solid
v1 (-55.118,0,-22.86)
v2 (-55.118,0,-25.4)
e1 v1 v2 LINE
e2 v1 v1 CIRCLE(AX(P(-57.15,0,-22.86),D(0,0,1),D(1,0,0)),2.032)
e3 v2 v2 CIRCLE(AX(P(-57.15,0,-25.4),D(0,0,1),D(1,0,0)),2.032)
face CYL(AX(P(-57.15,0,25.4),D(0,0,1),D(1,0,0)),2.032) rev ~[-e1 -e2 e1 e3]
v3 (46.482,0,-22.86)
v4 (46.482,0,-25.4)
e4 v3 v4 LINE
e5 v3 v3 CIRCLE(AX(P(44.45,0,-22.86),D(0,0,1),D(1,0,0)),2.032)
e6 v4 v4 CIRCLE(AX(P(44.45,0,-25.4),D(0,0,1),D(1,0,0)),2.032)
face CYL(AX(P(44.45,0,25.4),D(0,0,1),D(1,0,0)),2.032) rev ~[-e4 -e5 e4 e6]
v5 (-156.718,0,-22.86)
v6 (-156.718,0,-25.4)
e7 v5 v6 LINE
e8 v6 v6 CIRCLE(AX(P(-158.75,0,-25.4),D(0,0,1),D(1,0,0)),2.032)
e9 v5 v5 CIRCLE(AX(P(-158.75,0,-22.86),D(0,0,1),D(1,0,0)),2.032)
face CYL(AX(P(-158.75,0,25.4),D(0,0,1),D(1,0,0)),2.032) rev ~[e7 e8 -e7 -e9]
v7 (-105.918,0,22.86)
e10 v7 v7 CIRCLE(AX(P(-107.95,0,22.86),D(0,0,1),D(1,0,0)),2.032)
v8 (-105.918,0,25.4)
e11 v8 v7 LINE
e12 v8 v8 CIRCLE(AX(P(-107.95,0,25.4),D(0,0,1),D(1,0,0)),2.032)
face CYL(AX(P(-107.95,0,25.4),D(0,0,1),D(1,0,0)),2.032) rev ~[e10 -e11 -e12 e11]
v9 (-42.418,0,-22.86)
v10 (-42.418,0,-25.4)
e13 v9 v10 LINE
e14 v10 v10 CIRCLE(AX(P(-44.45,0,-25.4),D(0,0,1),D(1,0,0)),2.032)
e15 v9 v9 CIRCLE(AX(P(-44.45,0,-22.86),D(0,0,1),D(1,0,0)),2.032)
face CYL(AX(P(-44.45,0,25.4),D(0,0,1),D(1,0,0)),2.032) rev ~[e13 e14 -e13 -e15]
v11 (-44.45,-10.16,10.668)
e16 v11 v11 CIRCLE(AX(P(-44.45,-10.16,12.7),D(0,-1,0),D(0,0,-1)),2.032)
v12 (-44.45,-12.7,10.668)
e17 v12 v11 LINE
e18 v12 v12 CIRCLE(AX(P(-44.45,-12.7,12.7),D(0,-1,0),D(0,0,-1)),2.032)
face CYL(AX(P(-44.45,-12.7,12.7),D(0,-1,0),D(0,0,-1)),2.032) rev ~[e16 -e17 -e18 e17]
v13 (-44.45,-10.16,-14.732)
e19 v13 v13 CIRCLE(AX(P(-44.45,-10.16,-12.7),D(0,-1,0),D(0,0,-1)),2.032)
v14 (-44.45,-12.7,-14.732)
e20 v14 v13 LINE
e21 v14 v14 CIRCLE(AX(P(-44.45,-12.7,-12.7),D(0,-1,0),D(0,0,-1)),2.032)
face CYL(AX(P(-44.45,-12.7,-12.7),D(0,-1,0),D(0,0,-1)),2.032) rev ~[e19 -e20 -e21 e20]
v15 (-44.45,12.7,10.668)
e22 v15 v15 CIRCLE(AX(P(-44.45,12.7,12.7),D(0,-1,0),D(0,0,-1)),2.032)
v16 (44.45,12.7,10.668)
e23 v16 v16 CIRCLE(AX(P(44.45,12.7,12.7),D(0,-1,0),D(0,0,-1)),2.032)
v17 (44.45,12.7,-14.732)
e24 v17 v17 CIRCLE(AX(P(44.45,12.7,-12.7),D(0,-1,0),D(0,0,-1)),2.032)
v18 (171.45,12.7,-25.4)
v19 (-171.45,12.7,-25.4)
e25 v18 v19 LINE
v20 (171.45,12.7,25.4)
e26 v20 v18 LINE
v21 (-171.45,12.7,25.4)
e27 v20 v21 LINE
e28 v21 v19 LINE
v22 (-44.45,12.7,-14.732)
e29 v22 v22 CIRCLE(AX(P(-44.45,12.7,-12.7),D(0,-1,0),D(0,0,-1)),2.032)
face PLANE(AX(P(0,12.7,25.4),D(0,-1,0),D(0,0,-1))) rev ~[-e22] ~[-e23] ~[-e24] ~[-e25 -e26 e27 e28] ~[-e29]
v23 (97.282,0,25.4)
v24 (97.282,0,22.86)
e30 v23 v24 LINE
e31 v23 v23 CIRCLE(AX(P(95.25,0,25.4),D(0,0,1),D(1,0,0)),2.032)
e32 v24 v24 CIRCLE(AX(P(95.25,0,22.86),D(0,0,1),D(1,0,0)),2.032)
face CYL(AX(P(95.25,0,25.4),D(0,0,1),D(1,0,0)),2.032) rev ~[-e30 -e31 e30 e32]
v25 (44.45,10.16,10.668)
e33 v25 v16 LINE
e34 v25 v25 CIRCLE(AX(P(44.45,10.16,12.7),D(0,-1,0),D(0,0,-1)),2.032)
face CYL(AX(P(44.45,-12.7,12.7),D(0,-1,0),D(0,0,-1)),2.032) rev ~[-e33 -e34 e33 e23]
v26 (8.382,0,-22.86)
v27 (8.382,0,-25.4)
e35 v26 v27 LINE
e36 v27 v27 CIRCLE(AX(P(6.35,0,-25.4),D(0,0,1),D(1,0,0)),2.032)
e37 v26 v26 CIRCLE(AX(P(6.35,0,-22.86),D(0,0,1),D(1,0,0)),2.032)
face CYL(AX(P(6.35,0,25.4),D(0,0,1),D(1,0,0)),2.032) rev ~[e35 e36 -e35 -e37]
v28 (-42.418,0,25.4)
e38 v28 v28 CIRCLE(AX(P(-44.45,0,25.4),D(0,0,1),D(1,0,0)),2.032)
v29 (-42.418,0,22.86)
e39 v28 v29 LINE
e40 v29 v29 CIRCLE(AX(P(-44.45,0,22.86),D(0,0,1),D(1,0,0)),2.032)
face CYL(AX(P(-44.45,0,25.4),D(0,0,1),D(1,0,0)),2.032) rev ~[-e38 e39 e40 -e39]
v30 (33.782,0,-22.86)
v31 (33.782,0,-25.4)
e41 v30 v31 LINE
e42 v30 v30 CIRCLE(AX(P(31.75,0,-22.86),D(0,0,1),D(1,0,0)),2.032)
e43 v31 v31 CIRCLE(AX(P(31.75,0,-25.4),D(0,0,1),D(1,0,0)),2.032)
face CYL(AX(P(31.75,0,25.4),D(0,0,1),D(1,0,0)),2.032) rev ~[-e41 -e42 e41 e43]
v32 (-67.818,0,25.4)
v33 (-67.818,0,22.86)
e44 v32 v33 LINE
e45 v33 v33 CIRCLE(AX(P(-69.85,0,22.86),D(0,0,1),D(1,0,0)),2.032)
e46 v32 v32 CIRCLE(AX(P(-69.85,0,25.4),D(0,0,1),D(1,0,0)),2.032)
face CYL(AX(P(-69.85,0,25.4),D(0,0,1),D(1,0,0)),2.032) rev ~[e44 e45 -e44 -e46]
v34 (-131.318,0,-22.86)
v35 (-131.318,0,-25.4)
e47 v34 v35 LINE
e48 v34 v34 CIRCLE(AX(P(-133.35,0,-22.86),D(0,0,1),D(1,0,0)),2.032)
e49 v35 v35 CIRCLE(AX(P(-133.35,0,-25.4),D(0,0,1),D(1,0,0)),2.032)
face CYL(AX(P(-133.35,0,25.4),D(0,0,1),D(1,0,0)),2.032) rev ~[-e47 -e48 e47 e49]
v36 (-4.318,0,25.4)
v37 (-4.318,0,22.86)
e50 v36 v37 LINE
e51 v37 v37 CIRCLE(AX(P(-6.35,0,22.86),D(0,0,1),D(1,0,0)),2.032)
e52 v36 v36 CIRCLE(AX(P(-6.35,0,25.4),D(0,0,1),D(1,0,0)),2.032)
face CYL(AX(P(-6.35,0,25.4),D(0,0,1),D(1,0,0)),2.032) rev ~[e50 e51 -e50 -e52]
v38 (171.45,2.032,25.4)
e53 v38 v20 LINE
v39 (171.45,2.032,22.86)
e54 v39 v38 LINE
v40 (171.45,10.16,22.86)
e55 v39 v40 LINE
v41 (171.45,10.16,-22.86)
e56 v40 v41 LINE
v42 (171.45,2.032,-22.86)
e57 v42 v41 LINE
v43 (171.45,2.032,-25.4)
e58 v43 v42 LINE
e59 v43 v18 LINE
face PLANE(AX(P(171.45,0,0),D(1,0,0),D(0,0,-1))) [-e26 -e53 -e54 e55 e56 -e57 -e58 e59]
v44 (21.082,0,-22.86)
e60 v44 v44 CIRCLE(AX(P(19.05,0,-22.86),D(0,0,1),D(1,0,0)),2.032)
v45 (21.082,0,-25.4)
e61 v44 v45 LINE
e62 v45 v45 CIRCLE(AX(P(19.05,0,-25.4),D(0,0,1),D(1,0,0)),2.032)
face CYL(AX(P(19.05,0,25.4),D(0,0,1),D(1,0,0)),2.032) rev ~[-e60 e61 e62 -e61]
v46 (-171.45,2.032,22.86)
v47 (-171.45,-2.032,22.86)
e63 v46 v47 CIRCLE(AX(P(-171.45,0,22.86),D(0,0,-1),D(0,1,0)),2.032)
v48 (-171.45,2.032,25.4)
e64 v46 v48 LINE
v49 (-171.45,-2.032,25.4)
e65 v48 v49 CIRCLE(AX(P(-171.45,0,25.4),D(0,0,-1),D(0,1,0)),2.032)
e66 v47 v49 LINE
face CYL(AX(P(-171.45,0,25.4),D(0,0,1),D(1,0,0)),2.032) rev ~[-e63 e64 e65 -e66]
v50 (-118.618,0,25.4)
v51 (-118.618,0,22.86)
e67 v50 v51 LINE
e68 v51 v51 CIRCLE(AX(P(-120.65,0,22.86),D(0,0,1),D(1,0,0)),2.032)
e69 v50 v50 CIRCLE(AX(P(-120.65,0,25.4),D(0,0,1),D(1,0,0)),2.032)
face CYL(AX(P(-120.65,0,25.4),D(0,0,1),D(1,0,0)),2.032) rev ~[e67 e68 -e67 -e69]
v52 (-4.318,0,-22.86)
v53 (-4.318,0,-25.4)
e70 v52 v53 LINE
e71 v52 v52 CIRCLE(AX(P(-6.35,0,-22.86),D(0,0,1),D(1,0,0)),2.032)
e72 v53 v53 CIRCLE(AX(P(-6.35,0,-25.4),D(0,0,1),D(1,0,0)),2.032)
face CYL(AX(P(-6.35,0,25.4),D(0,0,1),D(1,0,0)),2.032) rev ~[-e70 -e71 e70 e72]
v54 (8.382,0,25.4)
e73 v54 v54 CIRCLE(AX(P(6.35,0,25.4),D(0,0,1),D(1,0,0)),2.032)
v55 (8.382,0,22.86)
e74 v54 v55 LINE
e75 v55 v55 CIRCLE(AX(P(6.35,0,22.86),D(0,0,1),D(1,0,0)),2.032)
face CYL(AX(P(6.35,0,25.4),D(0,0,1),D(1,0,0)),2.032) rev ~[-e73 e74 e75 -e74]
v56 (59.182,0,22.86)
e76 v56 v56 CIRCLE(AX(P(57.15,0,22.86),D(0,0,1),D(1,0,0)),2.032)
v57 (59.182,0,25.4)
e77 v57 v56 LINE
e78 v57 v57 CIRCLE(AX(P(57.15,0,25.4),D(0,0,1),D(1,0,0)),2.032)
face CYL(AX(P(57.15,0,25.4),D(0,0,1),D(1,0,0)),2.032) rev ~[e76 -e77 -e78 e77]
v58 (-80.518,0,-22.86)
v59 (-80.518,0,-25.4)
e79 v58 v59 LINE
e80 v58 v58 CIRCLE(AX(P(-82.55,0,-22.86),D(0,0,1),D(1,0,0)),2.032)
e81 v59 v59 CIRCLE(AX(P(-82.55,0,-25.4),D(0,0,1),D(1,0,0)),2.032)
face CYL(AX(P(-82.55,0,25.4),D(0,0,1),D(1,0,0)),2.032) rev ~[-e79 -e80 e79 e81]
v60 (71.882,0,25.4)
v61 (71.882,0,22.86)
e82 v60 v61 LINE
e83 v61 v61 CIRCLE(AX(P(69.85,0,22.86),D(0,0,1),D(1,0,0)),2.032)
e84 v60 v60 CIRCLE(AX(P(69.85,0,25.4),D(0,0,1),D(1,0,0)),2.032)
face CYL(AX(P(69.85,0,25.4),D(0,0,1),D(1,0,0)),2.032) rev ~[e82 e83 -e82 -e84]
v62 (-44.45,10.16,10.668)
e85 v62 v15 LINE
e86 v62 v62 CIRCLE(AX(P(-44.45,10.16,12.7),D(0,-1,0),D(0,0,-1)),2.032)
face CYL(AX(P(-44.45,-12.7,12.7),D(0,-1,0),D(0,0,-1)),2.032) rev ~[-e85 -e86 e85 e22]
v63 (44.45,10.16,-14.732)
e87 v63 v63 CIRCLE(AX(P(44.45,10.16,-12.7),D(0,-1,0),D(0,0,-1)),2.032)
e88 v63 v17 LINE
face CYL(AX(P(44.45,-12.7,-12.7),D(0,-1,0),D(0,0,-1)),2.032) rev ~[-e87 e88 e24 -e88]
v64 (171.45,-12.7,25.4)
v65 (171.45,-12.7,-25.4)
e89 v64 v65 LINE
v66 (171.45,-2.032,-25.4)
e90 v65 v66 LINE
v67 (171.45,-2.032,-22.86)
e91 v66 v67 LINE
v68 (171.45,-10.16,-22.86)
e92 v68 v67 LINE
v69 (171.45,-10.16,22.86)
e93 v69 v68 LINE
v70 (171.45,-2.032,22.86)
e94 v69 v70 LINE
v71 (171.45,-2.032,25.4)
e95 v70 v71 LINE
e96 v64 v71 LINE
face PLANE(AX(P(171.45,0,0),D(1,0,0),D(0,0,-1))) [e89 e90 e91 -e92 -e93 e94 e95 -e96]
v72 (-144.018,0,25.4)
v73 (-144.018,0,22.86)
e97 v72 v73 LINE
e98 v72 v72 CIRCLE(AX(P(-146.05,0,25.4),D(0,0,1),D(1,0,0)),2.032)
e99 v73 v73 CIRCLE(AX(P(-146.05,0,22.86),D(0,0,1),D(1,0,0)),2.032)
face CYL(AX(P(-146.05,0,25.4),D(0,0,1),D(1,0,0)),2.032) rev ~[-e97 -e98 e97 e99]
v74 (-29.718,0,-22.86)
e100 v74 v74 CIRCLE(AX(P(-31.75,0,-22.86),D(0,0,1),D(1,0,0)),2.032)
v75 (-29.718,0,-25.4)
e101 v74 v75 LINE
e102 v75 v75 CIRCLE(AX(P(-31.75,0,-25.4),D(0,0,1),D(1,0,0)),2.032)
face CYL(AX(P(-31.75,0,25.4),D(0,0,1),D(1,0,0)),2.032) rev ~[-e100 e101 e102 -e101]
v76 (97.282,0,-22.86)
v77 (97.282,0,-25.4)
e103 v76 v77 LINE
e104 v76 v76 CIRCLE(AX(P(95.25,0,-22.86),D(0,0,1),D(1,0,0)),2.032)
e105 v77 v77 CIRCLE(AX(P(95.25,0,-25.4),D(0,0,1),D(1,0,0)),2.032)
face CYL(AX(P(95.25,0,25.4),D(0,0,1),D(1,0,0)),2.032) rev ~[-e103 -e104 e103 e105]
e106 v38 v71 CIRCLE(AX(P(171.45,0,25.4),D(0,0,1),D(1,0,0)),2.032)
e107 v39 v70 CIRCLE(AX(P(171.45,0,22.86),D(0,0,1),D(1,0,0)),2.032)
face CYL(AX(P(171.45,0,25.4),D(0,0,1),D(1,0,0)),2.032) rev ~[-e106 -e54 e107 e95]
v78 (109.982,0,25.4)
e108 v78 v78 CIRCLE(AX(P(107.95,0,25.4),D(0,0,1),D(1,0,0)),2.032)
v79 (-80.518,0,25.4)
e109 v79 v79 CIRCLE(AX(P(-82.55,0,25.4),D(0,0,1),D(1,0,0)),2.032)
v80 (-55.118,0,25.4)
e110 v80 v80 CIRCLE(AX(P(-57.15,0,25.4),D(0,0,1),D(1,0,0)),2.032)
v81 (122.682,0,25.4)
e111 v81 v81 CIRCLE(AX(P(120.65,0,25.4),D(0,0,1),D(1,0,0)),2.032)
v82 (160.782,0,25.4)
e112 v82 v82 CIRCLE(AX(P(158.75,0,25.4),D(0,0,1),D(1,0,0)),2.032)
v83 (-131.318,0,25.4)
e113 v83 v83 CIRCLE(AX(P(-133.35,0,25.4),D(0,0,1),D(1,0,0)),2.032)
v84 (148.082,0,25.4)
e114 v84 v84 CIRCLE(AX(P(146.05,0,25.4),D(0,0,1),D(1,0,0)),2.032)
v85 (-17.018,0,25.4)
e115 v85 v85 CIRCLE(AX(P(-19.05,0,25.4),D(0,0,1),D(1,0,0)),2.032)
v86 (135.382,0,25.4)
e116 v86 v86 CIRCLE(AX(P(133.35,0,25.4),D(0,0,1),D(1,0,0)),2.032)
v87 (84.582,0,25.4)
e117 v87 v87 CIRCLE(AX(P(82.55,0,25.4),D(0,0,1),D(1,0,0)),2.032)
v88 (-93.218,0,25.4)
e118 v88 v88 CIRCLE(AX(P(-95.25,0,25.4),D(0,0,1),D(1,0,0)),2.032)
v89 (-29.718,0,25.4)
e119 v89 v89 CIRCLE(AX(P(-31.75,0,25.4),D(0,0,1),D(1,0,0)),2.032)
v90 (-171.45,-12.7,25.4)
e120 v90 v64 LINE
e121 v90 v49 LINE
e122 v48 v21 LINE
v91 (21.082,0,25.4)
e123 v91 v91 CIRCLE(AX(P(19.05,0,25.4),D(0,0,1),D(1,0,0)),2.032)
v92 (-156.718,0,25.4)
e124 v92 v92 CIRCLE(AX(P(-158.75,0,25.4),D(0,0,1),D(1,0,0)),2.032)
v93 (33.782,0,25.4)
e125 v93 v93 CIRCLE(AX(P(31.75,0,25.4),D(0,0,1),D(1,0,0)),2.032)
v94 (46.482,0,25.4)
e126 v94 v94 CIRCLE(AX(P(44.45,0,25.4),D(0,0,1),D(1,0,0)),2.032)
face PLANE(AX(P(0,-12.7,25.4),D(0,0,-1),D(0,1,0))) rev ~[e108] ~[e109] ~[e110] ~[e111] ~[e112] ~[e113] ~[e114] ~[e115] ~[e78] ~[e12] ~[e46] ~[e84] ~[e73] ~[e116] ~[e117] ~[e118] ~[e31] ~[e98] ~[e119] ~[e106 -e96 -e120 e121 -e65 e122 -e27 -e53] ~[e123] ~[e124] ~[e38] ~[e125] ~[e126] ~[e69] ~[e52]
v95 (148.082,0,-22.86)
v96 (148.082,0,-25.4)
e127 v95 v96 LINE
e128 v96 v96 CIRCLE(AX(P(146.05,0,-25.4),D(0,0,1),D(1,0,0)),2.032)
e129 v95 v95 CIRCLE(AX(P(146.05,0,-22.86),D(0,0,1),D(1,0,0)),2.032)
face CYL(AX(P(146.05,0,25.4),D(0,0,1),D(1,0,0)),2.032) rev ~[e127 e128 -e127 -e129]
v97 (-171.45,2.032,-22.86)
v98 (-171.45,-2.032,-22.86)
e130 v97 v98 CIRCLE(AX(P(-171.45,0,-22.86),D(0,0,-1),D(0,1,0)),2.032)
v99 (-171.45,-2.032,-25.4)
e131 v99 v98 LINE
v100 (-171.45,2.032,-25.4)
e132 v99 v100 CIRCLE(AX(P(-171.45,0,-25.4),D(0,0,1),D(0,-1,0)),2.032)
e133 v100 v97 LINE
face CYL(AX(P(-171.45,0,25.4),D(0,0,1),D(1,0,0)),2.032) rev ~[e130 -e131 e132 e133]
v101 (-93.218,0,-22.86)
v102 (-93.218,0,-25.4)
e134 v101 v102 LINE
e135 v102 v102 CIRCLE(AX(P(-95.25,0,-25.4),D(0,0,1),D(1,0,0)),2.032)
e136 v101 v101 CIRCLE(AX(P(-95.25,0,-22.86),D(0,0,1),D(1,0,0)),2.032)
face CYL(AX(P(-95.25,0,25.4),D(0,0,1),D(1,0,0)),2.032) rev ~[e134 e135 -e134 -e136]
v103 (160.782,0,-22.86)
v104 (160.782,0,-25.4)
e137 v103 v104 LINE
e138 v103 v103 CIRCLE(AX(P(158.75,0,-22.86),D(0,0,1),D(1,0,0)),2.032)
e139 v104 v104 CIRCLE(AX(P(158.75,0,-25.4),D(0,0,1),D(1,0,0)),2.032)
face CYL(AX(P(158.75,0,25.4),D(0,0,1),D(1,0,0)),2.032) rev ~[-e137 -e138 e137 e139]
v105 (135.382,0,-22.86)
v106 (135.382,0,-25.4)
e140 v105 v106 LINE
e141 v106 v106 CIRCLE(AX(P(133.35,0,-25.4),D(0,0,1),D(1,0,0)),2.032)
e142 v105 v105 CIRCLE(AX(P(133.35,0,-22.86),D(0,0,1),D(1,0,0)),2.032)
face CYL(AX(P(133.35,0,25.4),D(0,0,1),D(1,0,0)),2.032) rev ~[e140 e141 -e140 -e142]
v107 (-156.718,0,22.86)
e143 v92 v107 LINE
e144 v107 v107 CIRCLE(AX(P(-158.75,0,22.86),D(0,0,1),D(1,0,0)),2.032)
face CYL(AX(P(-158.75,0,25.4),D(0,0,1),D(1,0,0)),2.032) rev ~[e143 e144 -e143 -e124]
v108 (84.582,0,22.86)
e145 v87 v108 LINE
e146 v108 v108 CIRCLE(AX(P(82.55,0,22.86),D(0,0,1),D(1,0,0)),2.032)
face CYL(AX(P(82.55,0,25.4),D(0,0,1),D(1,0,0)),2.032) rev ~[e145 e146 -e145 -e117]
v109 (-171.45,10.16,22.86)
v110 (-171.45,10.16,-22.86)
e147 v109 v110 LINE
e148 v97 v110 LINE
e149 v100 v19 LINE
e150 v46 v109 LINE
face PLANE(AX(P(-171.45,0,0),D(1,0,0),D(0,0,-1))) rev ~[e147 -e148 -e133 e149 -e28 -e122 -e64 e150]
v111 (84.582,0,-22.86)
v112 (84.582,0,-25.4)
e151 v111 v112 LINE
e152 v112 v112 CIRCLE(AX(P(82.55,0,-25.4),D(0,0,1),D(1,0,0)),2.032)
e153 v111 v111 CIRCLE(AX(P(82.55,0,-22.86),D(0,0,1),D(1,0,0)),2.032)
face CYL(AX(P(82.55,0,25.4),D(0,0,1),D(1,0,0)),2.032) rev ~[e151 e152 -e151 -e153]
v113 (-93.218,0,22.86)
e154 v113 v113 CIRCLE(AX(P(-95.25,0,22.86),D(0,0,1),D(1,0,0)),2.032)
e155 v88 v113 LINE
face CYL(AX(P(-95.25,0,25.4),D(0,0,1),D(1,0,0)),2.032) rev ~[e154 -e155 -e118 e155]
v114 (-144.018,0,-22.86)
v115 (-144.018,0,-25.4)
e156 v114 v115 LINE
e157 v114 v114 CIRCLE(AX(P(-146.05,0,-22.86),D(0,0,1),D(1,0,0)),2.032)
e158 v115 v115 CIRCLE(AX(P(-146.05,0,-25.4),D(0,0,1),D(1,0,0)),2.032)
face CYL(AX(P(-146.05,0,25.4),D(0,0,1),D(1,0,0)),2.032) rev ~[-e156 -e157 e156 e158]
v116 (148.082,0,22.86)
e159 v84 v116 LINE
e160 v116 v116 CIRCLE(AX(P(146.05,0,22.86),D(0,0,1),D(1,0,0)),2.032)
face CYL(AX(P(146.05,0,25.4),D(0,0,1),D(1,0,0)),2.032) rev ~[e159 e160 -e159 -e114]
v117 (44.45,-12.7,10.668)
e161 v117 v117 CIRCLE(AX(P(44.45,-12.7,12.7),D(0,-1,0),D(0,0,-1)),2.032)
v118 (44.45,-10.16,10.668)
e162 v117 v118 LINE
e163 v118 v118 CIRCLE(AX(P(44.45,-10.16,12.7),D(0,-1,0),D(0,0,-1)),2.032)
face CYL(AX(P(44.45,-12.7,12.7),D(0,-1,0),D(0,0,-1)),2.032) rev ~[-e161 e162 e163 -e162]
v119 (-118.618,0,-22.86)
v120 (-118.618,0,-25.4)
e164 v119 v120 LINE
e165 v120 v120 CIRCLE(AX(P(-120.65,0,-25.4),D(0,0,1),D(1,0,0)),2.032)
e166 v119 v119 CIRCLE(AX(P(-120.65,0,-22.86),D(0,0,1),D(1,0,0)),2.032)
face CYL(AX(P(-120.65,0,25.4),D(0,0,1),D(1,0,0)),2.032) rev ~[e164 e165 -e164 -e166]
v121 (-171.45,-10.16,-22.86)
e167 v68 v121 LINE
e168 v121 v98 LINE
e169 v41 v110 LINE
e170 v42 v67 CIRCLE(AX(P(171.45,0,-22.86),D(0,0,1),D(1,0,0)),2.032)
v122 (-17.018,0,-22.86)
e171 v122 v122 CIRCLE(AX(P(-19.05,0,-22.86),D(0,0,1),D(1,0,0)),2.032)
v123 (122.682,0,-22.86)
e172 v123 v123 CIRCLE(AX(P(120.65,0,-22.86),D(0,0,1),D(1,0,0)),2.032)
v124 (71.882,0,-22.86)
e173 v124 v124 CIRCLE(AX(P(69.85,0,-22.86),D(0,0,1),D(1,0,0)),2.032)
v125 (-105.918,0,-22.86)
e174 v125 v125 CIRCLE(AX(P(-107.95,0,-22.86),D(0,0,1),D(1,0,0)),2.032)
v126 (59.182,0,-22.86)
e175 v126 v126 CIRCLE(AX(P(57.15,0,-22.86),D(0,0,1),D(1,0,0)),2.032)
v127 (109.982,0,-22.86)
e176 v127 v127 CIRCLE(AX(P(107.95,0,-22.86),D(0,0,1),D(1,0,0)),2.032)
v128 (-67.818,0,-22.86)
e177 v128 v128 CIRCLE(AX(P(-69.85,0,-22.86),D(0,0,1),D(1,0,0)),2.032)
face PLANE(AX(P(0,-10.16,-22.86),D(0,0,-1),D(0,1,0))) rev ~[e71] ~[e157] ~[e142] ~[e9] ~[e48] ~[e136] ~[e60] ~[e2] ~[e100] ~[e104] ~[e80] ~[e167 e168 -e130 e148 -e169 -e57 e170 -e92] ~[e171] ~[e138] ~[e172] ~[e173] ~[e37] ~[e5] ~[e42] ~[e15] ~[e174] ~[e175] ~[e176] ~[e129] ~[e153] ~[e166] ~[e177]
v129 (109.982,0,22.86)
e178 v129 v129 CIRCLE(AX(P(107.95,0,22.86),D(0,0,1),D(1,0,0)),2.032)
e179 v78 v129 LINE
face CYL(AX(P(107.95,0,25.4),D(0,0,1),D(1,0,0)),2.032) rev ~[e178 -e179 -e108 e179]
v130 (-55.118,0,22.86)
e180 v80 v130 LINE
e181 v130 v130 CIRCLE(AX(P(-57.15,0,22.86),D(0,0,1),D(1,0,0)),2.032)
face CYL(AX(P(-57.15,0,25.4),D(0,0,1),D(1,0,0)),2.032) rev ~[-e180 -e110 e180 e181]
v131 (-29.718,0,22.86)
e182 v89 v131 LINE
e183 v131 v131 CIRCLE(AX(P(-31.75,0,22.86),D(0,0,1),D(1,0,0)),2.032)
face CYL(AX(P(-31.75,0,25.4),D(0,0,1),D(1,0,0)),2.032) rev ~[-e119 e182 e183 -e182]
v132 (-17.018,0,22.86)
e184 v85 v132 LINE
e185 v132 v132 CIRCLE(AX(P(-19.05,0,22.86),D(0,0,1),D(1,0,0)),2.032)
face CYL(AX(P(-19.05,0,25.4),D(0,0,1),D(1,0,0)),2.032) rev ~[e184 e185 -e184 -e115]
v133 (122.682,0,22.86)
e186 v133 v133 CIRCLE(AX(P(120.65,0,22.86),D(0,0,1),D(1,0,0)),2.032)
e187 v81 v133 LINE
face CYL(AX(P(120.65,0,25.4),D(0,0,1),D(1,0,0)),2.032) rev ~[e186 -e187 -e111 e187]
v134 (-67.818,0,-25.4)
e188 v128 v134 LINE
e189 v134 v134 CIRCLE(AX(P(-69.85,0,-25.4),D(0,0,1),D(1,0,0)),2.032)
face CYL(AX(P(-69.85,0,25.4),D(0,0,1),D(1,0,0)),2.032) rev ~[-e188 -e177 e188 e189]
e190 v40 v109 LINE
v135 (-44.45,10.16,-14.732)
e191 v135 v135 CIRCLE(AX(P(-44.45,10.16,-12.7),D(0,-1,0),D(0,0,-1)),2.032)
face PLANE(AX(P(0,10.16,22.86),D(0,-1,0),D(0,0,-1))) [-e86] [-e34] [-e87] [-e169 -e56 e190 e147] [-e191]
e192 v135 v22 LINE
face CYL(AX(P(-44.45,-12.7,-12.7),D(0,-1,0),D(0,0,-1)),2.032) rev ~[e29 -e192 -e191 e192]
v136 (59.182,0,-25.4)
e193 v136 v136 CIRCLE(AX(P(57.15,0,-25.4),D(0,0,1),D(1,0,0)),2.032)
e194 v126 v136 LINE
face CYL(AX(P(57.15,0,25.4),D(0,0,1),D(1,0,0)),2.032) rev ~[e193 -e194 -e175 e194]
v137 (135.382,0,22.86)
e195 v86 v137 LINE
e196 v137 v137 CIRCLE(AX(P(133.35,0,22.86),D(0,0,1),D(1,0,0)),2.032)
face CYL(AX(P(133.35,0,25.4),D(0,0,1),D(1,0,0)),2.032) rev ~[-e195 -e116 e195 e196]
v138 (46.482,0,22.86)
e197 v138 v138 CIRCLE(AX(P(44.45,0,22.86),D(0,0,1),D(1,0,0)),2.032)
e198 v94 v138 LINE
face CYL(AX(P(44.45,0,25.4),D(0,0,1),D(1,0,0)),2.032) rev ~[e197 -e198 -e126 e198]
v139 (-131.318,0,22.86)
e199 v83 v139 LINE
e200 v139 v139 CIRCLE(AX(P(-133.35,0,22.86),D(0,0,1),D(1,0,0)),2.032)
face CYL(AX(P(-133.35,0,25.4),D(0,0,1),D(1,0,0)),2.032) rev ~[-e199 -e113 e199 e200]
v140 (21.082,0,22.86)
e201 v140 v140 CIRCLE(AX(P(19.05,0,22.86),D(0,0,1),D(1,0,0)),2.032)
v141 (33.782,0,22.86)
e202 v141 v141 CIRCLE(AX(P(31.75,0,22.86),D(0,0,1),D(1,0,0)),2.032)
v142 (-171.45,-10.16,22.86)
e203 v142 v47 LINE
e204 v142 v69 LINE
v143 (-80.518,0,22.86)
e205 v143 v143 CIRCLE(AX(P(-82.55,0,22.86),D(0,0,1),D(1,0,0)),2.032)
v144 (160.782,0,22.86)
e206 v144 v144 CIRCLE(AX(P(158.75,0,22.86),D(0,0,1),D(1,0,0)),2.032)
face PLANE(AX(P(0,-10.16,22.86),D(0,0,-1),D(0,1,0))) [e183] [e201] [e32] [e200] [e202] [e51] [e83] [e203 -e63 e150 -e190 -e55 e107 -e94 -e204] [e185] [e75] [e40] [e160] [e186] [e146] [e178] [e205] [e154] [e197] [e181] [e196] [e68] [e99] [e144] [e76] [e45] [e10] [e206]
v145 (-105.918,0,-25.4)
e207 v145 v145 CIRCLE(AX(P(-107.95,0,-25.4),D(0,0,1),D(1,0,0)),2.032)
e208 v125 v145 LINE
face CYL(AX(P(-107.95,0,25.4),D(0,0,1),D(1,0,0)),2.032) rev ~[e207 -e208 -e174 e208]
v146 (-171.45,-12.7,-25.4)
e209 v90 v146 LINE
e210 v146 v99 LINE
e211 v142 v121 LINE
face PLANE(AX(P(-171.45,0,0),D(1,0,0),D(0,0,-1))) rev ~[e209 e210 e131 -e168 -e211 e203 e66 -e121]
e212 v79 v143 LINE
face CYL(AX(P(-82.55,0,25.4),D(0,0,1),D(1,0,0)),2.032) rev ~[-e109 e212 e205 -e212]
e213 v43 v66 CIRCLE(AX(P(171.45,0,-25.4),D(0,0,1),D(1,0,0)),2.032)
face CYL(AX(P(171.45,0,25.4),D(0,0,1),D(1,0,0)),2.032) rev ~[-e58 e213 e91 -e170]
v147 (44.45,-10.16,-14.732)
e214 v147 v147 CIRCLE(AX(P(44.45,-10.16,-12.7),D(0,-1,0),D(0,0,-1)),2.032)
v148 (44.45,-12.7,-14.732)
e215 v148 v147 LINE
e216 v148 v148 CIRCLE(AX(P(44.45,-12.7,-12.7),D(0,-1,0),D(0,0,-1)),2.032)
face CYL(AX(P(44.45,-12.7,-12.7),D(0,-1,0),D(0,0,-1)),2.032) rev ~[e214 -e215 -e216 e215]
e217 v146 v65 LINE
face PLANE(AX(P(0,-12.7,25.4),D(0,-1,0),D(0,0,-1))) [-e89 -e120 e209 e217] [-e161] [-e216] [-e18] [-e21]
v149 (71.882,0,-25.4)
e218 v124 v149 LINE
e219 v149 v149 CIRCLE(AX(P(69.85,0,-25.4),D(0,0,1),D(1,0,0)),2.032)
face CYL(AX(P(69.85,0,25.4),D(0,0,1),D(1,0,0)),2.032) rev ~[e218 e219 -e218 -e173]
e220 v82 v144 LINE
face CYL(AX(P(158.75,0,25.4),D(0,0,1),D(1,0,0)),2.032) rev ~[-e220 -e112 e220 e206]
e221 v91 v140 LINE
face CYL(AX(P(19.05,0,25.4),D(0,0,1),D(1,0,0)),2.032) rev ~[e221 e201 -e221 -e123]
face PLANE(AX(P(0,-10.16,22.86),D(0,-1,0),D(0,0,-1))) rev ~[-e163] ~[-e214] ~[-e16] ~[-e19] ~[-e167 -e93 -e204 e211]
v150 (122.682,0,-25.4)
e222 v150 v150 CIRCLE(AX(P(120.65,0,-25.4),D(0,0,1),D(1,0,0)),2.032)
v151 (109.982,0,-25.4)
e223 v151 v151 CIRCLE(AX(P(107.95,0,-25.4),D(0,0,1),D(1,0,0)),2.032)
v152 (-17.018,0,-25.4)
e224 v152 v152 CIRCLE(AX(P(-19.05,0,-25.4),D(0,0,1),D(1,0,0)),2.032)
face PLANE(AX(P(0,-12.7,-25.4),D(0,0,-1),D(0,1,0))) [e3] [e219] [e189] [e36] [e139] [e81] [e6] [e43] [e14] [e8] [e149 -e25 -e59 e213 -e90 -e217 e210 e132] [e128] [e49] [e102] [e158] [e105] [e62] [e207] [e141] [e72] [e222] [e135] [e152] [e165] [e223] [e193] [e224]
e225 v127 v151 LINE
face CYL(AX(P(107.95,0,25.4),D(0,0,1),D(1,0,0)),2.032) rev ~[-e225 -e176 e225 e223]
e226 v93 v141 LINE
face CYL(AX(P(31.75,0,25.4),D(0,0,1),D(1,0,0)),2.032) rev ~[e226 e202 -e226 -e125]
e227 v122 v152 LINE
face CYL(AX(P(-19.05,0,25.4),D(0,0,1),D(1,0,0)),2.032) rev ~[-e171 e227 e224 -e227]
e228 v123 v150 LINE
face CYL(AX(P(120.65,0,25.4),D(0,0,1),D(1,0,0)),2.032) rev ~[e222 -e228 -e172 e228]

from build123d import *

# Parameters (mm, degrees)
SKETCH1_W           = 50.8
SKETCH1_H           = 25.4
SKETCH1_W_2         = 45.72
SKETCH1_H_2         = 20.32
BOSS_EXTRUDE1_DEPTH = 171.45
SKETCH2_R           = 2.032
CUT_EXTRUDE1_DEPTH  = 180.268046511
SKETCH3_R           = 2.032
CUT_EXTRUDE2_DEPTH  = 176.172550646


with BuildPart() as part:
    # Sketch1 → Boss-Extrude1 (new, symmetric)
    with BuildSketch(Plane(origin=(0, 0, 0), x_dir=(0, 0, -1), z_dir=(1, 0, 0))):
        Rectangle(SKETCH1_W, SKETCH1_H)
        Rectangle(SKETCH1_W_2, SKETCH1_H_2, mode=Mode.SUBTRACT)
    extrude(amount=BOSS_EXTRUDE1_DEPTH, both=True)

    # Sketch2 → Cut-Extrude1 (cut, through all)
    with BuildSketch(Plane.XY.offset(25.4)):
        with Locations((-171.45, 0)):
            Circle(SKETCH2_R)
        with Locations((-158.75, 0)):
            Circle(SKETCH2_R)
        with Locations((-146.05, 0)):
            Circle(SKETCH2_R)
        with Locations((-133.35, 0)):
            Circle(SKETCH2_R)
        with Locations((-120.65, 0)):
            Circle(SKETCH2_R)
        with Locations((-107.95, 0)):
            Circle(SKETCH2_R)
        with Locations((-95.25, 0)):
            Circle(SKETCH2_R)
        with Locations((-82.55, 0)):
            Circle(SKETCH2_R)
        with Locations((-69.85, 0)):
            Circle(SKETCH2_R)
        with Locations((-57.15, 0)):
            Circle(SKETCH2_R)
        with Locations((-44.45, 0)):
            Circle(SKETCH2_R)
        with Locations((-31.75, 0)):
            Circle(SKETCH2_R)
        with Locations((-19.05, 0)):
            Circle(SKETCH2_R)
        with Locations((-6.35, 0)):
            Circle(SKETCH2_R)
        with Locations((6.35, 0)):
            Circle(SKETCH2_R)
        with Locations((19.05, 0)):
            Circle(SKETCH2_R)
        with Locations((31.75, 0)):
            Circle(SKETCH2_R)
        with Locations((44.45, 0)):
            Circle(SKETCH2_R)
        with Locations((57.15, 0)):
            Circle(SKETCH2_R)
        with Locations((69.85, 0)):
            Circle(SKETCH2_R)
        with Locations((82.55, 0)):
            Circle(SKETCH2_R)
        with Locations((95.25, 0)):
            Circle(SKETCH2_R)
        with Locations((107.95, 0)):
            Circle(SKETCH2_R)
        with Locations((120.65, 0)):
            Circle(SKETCH2_R)
        with Locations((133.35, 0)):
            Circle(SKETCH2_R)
        with Locations((146.05, 0)):
            Circle(SKETCH2_R)
        with Locations((158.75, 0)):
            Circle(SKETCH2_R)
        with Locations((171.45, 0)):
            Circle(SKETCH2_R)
        with Locations((184.15, 0)):
            Circle(SKETCH2_R)
        with Locations((196.85, 0)):
            Circle(SKETCH2_R)
        with Locations((209.55, 0)):
            Circle(SKETCH2_R)
        with Locations((222.25, 0)):
            Circle(SKETCH2_R)
        with Locations((234.95, 0)):
            Circle(SKETCH2_R)
        with Locations((247.65, 0)):
            Circle(SKETCH2_R)
        with Locations((260.35, 0)):
            Circle(SKETCH2_R)
        with Locations((273.05, 0)):
            Circle(SKETCH2_R)
        with Locations((285.75, 0)):
            Circle(SKETCH2_R)
        with Locations((298.45, 0)):
            Circle(SKETCH2_R)
        with Locations((311.15, 0)):
            Circle(SKETCH2_R)
        with Locations((323.85, 0)):
            Circle(SKETCH2_R)
    extrude(amount=-CUT_EXTRUDE1_DEPTH, mode=Mode.SUBTRACT)

    # Sketch3 → Cut-Extrude2 (cut, through all)
    with BuildSketch(Plane.XZ.offset(12.7)):
        with Locations(Location((44.45, 12.7, 0), (0, 0, 270))):
            Circle(SKETCH3_R)
        with Locations(Location((44.45, -12.7, 0), (0, 0, 270))):
            Circle(SKETCH3_R)
        with Locations(Location((-44.45, -12.7, 0), (0, 0, 270))):
            Circle(SKETCH3_R)
        with Locations(Location((-44.45, 12.7, 0), (0, 0, 270))):
            Circle(SKETCH3_R)
    extrude(amount=-CUT_EXTRUDE2_DEPTH, mode=Mode.SUBTRACT)


solid = part.part
